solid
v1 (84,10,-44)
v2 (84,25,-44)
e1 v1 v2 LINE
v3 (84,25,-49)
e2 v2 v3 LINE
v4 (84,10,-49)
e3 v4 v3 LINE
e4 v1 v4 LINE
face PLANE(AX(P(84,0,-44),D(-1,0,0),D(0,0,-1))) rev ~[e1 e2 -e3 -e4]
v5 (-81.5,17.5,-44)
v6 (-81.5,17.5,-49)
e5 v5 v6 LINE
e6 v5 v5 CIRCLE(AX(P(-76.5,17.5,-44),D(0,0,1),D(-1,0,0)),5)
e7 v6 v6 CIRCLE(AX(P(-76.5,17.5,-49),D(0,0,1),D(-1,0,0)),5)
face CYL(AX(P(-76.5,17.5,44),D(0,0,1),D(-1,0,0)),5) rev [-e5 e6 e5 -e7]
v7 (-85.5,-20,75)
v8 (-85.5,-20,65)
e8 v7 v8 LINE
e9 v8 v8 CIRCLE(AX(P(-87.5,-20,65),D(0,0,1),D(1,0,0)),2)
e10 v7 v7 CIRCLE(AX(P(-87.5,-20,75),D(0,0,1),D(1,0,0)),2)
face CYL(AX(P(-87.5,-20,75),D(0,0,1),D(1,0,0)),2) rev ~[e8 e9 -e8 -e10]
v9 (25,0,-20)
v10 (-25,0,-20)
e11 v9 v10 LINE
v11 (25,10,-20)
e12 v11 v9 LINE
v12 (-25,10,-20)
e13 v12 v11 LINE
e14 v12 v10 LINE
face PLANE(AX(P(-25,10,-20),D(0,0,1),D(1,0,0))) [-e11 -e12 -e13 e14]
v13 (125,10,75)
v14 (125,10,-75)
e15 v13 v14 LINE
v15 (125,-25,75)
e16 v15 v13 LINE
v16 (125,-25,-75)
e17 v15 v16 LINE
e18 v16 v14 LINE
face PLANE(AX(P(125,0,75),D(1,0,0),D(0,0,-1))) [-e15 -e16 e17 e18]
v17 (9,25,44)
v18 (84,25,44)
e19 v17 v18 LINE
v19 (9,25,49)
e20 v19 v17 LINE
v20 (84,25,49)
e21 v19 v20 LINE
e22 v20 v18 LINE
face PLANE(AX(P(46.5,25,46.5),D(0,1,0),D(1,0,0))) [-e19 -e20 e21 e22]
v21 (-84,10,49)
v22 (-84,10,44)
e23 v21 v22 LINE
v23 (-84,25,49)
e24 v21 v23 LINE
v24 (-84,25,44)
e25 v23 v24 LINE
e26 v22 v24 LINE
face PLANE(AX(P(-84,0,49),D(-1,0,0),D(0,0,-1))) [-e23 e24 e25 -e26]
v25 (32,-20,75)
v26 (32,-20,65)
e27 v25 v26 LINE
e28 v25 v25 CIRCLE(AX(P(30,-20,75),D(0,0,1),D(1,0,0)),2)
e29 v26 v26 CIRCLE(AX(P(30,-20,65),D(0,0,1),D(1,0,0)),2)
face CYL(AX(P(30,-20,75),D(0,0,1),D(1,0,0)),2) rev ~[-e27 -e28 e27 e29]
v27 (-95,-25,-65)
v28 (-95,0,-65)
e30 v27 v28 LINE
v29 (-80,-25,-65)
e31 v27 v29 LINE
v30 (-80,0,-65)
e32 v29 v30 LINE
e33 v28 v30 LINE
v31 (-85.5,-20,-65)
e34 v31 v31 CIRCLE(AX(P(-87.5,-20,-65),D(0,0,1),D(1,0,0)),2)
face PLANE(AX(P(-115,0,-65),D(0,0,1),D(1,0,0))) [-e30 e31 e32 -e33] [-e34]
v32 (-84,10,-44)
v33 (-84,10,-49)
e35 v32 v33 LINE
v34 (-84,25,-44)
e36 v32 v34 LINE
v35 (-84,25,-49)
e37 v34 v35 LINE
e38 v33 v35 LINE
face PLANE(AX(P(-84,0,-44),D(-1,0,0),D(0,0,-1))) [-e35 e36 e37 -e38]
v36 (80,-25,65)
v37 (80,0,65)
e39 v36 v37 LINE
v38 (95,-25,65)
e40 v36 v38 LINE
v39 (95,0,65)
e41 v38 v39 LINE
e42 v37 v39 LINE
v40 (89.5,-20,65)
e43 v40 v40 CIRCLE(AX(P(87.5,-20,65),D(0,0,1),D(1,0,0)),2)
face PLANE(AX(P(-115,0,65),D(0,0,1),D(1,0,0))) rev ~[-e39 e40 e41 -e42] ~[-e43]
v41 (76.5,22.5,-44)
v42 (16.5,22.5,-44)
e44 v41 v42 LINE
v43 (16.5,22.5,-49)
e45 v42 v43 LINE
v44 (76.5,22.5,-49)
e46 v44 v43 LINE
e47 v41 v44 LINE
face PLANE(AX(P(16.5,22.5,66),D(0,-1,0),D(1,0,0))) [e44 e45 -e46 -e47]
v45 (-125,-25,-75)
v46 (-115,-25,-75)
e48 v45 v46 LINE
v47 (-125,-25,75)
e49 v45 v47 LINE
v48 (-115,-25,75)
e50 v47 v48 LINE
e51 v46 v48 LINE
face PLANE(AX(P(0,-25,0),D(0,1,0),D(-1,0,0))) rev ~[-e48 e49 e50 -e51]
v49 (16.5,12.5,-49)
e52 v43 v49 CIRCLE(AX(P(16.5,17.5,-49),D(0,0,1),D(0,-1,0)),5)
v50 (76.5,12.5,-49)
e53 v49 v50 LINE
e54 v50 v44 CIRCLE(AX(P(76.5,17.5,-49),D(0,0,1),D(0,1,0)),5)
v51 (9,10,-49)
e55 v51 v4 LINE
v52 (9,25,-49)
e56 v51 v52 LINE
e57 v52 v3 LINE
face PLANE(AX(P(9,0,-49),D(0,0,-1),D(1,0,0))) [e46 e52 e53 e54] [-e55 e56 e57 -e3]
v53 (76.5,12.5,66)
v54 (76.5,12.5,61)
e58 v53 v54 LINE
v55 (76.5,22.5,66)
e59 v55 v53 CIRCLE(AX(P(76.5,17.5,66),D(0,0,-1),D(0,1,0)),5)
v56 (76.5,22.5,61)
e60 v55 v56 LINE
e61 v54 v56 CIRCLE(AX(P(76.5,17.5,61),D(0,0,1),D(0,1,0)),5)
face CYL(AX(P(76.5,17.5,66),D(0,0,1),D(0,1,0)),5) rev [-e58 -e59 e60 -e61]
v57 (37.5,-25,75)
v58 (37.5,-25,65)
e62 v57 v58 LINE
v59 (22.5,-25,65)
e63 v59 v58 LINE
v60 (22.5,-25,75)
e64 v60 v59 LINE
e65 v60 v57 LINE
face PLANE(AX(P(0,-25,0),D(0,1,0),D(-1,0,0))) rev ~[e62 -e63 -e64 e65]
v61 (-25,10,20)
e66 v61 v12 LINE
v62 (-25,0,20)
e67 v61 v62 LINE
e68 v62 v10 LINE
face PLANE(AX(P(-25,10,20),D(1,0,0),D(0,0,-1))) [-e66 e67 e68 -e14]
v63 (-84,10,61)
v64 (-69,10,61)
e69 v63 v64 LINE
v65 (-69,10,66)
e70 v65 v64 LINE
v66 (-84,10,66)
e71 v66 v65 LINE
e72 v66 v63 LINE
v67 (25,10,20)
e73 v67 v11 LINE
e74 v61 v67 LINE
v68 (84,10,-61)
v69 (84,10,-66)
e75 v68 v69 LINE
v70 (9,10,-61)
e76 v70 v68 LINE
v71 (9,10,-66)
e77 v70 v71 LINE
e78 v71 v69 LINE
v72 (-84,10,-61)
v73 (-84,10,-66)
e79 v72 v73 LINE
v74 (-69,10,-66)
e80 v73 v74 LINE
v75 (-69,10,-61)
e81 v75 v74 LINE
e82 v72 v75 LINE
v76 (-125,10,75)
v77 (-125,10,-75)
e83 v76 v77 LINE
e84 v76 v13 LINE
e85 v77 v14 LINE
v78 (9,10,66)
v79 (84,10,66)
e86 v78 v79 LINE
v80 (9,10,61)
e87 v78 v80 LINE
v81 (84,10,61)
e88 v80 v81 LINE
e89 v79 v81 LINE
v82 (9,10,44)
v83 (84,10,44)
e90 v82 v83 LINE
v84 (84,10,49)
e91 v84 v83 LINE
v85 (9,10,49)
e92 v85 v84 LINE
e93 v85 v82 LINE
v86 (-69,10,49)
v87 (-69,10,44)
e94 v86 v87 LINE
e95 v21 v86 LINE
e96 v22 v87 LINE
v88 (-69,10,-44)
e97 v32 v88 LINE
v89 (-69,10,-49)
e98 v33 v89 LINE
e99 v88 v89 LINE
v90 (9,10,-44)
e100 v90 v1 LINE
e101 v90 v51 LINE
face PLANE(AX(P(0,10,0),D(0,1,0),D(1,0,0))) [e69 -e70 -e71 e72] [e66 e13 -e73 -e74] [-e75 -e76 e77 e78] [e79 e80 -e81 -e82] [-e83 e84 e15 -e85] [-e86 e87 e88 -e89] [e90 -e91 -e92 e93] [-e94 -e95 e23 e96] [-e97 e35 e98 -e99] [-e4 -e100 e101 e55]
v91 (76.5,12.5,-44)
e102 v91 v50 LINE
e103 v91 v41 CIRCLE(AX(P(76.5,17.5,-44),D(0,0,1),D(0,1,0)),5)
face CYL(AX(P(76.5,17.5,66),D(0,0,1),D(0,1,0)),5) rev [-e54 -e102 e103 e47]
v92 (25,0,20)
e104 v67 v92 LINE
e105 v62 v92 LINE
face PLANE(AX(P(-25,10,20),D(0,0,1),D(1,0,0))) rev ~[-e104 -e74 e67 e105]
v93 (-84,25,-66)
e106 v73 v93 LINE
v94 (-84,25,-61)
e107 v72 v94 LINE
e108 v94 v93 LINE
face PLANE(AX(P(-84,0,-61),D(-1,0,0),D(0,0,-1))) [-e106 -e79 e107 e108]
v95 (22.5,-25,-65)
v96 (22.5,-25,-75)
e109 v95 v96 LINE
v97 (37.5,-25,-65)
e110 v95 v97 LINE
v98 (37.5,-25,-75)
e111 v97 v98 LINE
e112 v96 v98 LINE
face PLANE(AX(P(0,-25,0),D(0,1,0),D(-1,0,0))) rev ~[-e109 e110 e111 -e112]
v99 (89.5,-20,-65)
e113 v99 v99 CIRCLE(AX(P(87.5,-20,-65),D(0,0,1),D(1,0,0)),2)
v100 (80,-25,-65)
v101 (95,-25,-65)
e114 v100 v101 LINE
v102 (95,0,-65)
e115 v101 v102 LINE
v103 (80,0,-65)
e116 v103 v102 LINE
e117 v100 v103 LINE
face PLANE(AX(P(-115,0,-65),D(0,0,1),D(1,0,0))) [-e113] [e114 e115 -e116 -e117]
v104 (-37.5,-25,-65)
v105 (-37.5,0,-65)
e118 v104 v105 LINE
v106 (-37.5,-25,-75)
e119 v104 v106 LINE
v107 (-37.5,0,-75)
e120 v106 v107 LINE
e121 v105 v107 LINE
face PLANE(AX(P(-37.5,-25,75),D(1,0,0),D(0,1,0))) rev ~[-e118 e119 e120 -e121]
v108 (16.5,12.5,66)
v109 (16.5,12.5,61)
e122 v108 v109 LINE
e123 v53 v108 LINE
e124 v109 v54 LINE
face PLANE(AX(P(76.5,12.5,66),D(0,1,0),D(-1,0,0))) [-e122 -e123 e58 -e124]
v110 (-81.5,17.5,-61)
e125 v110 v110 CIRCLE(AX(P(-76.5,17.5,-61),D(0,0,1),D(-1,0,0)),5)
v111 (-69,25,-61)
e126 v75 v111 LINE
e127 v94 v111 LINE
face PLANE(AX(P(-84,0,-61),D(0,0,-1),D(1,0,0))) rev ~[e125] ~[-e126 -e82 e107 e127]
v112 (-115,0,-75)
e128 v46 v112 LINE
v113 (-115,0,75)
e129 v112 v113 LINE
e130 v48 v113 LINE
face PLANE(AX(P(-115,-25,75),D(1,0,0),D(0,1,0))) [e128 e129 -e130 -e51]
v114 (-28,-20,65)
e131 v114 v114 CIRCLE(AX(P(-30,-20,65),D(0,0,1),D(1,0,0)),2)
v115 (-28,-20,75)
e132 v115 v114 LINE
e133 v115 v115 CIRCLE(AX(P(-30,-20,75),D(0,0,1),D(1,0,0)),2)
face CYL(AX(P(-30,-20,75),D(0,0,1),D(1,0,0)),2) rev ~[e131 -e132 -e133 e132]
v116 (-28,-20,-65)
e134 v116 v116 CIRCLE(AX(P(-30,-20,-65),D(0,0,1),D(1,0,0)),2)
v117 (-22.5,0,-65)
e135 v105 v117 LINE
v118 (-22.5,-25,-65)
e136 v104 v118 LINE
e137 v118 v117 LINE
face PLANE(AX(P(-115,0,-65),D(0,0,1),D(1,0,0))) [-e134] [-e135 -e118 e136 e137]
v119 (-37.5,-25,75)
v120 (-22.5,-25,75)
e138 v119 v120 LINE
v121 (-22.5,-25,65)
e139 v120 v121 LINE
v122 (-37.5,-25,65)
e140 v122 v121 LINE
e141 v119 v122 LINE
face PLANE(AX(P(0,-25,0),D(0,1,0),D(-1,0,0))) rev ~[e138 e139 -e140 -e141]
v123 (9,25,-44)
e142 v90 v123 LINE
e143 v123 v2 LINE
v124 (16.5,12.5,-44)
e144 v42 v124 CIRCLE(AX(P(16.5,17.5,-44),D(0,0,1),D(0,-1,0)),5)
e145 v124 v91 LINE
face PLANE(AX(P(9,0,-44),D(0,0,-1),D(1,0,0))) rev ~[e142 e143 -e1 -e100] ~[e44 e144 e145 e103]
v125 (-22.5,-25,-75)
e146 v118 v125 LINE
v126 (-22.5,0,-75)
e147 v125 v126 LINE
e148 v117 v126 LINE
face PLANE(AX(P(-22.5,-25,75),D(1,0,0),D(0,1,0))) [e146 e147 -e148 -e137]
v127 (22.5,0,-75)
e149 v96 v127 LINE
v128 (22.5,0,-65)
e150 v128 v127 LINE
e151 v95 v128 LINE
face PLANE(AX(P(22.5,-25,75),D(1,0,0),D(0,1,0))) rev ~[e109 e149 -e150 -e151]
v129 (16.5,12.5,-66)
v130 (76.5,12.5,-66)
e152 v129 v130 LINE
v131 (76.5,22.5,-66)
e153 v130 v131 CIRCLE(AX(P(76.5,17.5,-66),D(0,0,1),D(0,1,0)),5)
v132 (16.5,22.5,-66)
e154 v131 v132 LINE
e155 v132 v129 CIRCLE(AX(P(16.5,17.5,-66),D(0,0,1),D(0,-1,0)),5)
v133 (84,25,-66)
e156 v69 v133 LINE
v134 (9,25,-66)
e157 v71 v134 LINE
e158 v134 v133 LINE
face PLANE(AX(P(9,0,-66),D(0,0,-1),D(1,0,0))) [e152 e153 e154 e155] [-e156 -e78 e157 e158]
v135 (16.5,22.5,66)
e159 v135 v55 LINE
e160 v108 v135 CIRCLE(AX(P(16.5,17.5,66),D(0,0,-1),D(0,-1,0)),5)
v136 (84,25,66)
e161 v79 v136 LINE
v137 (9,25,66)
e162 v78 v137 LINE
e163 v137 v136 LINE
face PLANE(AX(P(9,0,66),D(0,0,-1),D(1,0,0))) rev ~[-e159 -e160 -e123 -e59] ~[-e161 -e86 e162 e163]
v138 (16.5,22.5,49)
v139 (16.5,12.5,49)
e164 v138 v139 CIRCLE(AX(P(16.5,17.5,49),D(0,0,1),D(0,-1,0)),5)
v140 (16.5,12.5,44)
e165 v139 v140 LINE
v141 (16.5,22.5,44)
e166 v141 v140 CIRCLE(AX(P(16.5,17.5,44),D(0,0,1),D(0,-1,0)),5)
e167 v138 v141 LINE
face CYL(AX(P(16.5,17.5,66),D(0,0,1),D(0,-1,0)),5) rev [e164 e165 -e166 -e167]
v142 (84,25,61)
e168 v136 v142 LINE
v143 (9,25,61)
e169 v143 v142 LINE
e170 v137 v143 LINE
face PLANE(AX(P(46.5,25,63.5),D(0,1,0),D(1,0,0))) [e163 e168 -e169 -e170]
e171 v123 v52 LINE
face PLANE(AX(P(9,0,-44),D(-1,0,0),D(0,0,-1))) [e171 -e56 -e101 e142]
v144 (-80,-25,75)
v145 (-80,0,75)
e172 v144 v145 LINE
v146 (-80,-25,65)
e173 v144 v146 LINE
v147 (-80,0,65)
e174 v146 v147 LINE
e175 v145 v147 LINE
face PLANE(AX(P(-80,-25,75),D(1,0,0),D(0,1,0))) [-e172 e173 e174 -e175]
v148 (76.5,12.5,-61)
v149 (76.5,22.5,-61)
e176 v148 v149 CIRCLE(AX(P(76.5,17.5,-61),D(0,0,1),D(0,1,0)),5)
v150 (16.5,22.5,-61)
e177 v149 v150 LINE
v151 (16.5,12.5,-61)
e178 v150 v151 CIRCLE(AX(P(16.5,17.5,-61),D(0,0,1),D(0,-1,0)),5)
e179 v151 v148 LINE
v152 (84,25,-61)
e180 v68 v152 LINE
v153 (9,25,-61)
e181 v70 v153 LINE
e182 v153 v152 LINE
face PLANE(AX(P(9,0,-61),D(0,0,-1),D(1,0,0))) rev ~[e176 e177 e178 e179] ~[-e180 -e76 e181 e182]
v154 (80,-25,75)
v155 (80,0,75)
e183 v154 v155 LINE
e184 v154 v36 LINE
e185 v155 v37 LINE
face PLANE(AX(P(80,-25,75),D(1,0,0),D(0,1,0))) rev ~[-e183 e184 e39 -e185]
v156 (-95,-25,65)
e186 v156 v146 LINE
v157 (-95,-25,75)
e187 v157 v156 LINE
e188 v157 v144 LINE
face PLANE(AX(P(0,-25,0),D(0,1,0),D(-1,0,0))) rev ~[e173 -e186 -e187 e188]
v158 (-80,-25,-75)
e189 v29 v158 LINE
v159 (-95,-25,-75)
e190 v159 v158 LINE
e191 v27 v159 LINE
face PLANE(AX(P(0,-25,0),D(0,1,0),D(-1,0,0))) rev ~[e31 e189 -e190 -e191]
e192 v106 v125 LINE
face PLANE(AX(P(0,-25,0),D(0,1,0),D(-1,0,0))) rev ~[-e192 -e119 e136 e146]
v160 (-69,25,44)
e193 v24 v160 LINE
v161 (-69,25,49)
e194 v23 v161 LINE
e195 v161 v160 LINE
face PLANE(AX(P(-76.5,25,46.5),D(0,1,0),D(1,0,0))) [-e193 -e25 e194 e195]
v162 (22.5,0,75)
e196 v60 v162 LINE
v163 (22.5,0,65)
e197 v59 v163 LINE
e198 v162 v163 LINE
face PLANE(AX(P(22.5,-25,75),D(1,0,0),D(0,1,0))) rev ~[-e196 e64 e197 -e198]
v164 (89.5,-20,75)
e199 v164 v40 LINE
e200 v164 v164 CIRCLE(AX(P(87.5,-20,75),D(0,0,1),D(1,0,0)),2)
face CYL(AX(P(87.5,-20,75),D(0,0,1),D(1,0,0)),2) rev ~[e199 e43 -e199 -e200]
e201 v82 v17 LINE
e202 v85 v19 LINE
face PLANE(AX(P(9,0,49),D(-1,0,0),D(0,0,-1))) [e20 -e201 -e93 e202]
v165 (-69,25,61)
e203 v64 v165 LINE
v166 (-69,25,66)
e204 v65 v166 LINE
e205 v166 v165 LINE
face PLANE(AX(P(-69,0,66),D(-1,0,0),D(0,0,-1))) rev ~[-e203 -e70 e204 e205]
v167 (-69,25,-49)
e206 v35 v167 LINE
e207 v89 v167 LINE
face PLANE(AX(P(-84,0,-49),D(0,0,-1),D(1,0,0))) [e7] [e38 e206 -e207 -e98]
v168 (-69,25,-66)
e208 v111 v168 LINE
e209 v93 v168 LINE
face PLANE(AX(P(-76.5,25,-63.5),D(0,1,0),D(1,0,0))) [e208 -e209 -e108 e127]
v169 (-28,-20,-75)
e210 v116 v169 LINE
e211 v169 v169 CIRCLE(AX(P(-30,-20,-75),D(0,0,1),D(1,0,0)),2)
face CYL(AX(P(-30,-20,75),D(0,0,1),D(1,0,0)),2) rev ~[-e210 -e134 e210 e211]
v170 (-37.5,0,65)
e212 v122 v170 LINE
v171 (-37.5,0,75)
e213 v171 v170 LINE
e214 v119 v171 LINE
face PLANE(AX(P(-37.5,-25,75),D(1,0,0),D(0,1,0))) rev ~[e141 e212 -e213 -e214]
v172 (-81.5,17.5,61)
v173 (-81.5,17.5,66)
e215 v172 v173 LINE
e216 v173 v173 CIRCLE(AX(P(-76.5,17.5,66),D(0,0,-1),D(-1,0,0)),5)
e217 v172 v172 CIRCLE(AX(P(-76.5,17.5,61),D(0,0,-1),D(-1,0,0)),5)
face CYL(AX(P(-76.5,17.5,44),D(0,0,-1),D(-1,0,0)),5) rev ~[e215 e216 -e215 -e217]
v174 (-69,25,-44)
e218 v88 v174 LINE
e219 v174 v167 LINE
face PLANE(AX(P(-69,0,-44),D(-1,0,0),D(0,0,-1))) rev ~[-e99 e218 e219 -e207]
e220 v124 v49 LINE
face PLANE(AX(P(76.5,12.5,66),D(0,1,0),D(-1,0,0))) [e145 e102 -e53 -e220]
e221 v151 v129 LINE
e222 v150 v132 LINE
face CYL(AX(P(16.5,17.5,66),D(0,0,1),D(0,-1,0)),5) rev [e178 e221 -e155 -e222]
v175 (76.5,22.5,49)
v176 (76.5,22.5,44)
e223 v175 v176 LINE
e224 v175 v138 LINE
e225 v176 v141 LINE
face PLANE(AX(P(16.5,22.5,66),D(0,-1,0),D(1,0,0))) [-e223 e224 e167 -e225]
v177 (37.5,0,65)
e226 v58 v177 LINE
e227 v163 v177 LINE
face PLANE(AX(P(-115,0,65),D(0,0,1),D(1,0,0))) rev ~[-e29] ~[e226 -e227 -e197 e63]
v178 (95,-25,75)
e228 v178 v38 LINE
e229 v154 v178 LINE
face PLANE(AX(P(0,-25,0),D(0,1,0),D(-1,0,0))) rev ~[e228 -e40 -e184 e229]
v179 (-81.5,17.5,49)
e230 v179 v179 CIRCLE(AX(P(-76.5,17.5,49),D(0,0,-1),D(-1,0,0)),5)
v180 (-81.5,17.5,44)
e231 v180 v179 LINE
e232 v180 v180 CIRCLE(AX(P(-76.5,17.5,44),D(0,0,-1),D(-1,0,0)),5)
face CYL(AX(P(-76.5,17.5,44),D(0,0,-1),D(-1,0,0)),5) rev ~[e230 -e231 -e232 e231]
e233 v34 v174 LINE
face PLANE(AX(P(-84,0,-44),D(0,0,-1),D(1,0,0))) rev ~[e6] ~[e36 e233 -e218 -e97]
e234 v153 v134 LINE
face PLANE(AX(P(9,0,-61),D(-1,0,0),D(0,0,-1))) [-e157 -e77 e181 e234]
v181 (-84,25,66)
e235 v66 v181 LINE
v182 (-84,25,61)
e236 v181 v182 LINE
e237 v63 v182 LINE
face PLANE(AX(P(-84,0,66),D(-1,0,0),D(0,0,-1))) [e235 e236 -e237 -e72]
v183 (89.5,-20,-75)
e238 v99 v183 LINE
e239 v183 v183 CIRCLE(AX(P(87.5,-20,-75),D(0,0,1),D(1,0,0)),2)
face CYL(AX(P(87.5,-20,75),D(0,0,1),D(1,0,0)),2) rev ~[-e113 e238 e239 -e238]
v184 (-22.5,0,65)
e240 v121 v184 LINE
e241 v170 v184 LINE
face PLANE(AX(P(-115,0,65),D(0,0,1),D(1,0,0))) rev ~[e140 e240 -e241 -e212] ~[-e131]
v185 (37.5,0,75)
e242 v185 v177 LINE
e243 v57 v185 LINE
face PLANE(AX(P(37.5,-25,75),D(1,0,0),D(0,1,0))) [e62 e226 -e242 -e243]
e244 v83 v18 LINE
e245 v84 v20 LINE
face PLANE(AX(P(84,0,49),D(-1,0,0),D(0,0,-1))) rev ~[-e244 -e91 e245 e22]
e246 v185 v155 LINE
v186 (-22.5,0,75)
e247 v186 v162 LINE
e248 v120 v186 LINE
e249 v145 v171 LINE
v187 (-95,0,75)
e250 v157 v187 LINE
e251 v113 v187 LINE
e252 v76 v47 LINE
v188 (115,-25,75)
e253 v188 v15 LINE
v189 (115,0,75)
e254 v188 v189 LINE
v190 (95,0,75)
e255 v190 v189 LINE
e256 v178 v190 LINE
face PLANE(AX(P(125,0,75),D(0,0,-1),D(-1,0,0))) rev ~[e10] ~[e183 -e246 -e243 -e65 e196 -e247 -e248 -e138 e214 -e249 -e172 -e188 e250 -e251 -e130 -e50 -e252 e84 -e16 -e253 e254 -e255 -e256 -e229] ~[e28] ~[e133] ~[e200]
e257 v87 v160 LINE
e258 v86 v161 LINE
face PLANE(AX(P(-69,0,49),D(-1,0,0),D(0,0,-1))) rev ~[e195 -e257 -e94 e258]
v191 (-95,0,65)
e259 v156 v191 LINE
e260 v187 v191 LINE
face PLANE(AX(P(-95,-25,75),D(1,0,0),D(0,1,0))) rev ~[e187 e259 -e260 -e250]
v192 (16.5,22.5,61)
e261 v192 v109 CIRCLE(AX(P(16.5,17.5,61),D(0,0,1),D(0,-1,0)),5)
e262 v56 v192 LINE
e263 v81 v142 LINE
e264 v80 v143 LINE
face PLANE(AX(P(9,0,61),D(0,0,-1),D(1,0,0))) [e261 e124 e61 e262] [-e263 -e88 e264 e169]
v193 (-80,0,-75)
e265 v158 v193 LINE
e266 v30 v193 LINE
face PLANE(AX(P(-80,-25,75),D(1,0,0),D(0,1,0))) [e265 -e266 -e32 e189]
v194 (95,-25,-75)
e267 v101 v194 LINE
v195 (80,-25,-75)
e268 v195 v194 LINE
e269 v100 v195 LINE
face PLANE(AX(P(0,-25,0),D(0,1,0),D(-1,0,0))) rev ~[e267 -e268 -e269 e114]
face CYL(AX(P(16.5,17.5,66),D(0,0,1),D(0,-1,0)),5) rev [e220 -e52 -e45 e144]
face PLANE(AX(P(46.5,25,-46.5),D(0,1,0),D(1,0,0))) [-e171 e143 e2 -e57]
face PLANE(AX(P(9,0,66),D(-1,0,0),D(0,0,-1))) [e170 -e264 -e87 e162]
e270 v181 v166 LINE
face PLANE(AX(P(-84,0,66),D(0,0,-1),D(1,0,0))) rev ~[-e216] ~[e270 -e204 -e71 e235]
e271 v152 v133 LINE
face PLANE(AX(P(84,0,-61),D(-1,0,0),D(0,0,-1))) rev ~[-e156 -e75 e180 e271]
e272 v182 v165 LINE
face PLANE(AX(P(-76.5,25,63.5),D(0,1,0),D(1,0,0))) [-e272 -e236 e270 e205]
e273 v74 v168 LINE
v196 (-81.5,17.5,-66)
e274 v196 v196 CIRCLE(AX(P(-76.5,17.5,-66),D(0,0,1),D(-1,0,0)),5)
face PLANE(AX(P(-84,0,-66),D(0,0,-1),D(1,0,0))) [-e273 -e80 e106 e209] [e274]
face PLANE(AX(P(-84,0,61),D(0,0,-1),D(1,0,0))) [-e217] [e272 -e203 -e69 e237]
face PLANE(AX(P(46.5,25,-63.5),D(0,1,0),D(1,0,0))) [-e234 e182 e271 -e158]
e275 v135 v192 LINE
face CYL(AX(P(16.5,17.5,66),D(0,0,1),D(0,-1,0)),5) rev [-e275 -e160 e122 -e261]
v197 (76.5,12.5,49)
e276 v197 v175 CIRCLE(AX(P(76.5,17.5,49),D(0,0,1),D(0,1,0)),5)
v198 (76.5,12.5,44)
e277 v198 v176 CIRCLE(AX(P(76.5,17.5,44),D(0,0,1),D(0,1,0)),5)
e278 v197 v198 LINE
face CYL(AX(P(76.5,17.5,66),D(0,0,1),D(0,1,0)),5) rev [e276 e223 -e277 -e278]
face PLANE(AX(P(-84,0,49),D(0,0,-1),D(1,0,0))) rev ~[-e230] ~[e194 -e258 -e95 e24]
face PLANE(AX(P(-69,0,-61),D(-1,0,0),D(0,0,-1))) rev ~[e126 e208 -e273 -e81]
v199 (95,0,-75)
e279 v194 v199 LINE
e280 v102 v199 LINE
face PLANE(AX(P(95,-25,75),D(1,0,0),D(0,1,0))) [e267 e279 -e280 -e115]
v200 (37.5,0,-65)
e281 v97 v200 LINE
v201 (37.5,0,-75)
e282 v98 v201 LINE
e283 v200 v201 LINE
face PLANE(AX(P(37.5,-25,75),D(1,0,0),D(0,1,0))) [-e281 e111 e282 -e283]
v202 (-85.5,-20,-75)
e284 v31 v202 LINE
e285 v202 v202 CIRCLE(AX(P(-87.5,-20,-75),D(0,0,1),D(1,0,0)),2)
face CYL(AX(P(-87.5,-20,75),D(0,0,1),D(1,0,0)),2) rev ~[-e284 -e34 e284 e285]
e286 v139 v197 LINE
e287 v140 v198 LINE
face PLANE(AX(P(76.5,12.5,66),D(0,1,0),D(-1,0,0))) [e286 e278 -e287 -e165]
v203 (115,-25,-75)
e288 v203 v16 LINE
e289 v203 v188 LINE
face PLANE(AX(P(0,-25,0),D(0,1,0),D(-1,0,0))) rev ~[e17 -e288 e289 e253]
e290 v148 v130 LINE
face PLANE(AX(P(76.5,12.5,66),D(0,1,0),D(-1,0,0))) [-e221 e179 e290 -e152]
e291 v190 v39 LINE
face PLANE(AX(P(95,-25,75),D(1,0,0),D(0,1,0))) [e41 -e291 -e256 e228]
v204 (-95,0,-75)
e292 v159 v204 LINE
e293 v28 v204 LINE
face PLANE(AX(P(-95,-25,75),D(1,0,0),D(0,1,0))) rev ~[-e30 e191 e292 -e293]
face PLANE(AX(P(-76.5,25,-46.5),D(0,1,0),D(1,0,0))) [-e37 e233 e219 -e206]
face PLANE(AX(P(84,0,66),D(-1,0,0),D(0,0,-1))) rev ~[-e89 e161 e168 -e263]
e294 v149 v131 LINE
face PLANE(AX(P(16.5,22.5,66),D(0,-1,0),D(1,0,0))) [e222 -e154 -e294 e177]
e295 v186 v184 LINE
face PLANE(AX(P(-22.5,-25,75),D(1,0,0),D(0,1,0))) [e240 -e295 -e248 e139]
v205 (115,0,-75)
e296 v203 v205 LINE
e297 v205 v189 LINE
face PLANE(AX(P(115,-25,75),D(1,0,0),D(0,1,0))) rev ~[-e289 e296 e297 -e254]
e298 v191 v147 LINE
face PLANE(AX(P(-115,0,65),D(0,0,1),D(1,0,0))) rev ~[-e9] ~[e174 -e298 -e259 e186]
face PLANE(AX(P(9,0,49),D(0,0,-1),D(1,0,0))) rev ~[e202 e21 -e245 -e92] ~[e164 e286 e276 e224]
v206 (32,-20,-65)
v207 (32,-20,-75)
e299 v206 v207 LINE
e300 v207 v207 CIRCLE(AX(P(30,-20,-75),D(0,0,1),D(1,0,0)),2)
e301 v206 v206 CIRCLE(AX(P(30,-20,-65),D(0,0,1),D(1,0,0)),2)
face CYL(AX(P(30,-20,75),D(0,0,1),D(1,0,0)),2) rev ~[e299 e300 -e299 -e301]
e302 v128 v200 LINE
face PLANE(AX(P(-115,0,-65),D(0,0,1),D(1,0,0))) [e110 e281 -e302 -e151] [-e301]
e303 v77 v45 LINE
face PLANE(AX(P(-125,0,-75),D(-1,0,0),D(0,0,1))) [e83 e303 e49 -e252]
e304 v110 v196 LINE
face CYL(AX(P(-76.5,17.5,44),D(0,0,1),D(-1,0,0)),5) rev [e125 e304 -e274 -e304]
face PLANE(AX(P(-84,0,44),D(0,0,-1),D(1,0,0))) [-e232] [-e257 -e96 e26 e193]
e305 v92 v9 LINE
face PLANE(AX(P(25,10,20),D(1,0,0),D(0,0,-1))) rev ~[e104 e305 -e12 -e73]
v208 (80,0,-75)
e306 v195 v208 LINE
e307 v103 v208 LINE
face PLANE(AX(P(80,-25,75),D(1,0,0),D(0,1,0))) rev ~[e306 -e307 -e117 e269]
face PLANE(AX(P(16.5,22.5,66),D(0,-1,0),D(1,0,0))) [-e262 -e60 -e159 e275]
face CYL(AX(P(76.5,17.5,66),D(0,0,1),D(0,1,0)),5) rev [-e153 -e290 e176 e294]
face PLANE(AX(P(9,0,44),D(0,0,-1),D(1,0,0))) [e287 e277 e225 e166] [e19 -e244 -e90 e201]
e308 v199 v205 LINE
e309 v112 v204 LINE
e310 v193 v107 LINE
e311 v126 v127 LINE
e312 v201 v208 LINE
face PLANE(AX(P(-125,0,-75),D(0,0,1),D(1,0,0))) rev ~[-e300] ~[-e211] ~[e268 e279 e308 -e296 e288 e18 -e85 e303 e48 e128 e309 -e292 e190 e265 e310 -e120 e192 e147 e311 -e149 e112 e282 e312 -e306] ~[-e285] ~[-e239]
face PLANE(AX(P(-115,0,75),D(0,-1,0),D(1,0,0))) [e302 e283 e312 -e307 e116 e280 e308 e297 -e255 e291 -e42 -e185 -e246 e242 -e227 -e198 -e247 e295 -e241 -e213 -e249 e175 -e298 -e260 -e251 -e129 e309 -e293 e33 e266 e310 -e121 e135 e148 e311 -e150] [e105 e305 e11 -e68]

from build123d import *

# Parameters (mm, degrees)
SKETCH1_W               = 250
SKETCH1_H               = 150
SKETCH1_W_2             = 75
SKETCH1_H_2             = 5
SKETCH1_W_3             = 15
BOSS_EXTRUDE2_DEPTH     = 10
SKETCH1_8_W             = 75
SKETCH1_8_H             = 5
SKETCH1_8_W_2           = 15
BOSS_EXTRUDE3_DEPTH     = 25
SKETCH5_W               = 230
SKETCH5_H               = 130
BOSS_EXTRUDE4_DEPTH     = 25
SKETCH7_R               = 5
CUT_EXTRUDE2_DEPTH      = 120
CUT_EXTRUDE2_DEPTH_BACK = 32
CUT_EXTRUDE3_DEPTH      = 142
SKETCH9_W               = 50
SKETCH9_H               = 40
CUT_EXTRUDE4_DEPTH      = 10
SKETCH10_R              = 2
SKETCH10_W              = 42.5
SKETCH10_H              = 25
SKETCH10_W_2            = 20
SKETCH10_W_3            = 45
CUT_EXTRUDE5_DEPTH      = 1
CUT_EXTRUDE5_DEPTH_BACK = 151


with BuildPart() as part:
    # Sketch1 → Boss-Extrude2 (new body)
    with BuildSketch(Plane(origin=(0, 0, 0), x_dir=(1, 0, 0), z_dir=(0, 1, 0))):
        Rectangle(SKETCH1_W, SKETCH1_H)
        with Locations((46.5, -63.5)):
            Rectangle(SKETCH1_W_2, SKETCH1_H_2, mode=Mode.SUBTRACT)
        with Locations((-76.5, -63.5)):
            Rectangle(SKETCH1_W_3, SKETCH1_H_2, mode=Mode.SUBTRACT)
        with Locations((-76.5, -46.5)):
            Rectangle(SKETCH1_W_3, SKETCH1_H_2, mode=Mode.SUBTRACT)
        with Locations((46.5, -46.5)):
            Rectangle(SKETCH1_W_2, SKETCH1_H_2, mode=Mode.SUBTRACT)
        with Locations((46.5, 46.5)):
            Rectangle(SKETCH1_W_2, SKETCH1_H_2, mode=Mode.SUBTRACT)
        with Locations((46.5, 63.5)):
            Rectangle(SKETCH1_W_2, SKETCH1_H_2, mode=Mode.SUBTRACT)
        with Locations((-76.5, 63.5)):
            Rectangle(SKETCH1_W_3, SKETCH1_H_2, mode=Mode.SUBTRACT)
        with Locations((-76.5, 46.5)):
            Rectangle(SKETCH1_W_3, SKETCH1_H_2, mode=Mode.SUBTRACT)
    extrude(amount=BOSS_EXTRUDE2_DEPTH)

    # Sketch1<8> → Boss-Extrude3 (add)
    with BuildSketch(Plane(origin=(0, 0, 0), x_dir=(1, 0, 0), z_dir=(0, 1, 0))):
        with Locations((46.5, -63.5)):
            Rectangle(SKETCH1_8_W, SKETCH1_8_H)
        with Locations((-76.5, -63.5)):
            Rectangle(SKETCH1_8_W_2, SKETCH1_8_H)
        with Locations((-76.5, -46.5)):
            Rectangle(SKETCH1_8_W_2, SKETCH1_8_H)
        with Locations((46.5, -46.5)):
            Rectangle(SKETCH1_8_W, SKETCH1_8_H)
        with Locations((46.5, 46.5)):
            Rectangle(SKETCH1_8_W, SKETCH1_8_H)
        with Locations((46.5, 63.5)):
            Rectangle(SKETCH1_8_W, SKETCH1_8_H)
        with Locations((-76.5, 63.5)):
            Rectangle(SKETCH1_8_W_2, SKETCH1_8_H)
        with Locations((-76.5, 46.5)):
            Rectangle(SKETCH1_8_W_2, SKETCH1_8_H)
    extrude(amount=BOSS_EXTRUDE3_DEPTH)

    # Sketch5 → Boss-Extrude4 (add)
    with BuildSketch(Plane.XZ):
        Polygon((-125, 75), (-115, 75), (115, 75), (125, 75), (125, -75), (90, -75), (-90, -75), (-125, -75), align=None)
        Rectangle(SKETCH5_W, SKETCH5_H, mode=Mode.SUBTRACT)
    extrude(amount=BOSS_EXTRUDE4_DEPTH)

    # Sketch7 → Cut-Extrude2 (cut, two sides)
    with BuildSketch(Plane(origin=(0, 0, 44), x_dir=(-1, 0, 0), z_dir=(0, 0, -1))) as cut_extrude2_sk:
        with Locations((76.5, 17.5)):
            Circle(SKETCH7_R)
    extrude(amount=CUT_EXTRUDE2_DEPTH, mode=Mode.SUBTRACT)
    extrude(cut_extrude2_sk.sketch, amount=-CUT_EXTRUDE2_DEPTH_BACK, mode=Mode.SUBTRACT)

    # Sketch8 → Cut-Extrude3 (cut, through all)
    with BuildSketch(Plane.XY.offset(66)):
        with BuildLine():
            Line((16.5, 22.5), (76.5, 22.5))
            ThreePointArc((76.5, 22.5), (81.5, 17.5), (76.5, 12.5))
            Line((76.5, 12.5), (16.5, 12.5))
            ThreePointArc((16.5, 12.5), (11.5, 17.5), (16.5, 22.5))
        make_face()
    extrude(amount=-CUT_EXTRUDE3_DEPTH, mode=Mode.SUBTRACT)

    # Sketch9 → Cut-Extrude4 (cut)
    with BuildSketch(Plane(origin=(0, 10, 0), x_dir=(1, 0, 0), z_dir=(0, 1, 0))):
        Rectangle(SKETCH9_W, SKETCH9_H)
    extrude(amount=-CUT_EXTRUDE4_DEPTH, mode=Mode.SUBTRACT)

    # Sketch10 → Cut-Extrude5 (cut, two sides)
    with BuildSketch(Plane.XY.offset(75)) as cut_extrude5_sk:
        with Locations((-87.5, -20)):
            Circle(SKETCH10_R)
        with Locations((87.5, -20)):
            Circle(SKETCH10_R)
        with Locations((-30, -20)):
            Circle(SKETCH10_R)
        with Locations((30, -20)):
            Circle(SKETCH10_R)
        with Locations((-58.75, -12.5)):
            Rectangle(SKETCH10_W, SKETCH10_H)
        with Locations((-105, -12.5)):
            Rectangle(SKETCH10_W_2, SKETCH10_H)
        with Locations((0, -12.5)):
            Rectangle(SKETCH10_W_3, SKETCH10_H)
        with Locations((58.75, -12.5)):
            Rectangle(SKETCH10_W, SKETCH10_H)
        with Locations((105, -12.5)):
            Rectangle(SKETCH10_W_2, SKETCH10_H)
    extrude(amount=CUT_EXTRUDE5_DEPTH, mode=Mode.SUBTRACT)
    extrude(cut_extrude5_sk.sketch, amount=-CUT_EXTRUDE5_DEPTH_BACK, mode=Mode.SUBTRACT)


solid = part.part
